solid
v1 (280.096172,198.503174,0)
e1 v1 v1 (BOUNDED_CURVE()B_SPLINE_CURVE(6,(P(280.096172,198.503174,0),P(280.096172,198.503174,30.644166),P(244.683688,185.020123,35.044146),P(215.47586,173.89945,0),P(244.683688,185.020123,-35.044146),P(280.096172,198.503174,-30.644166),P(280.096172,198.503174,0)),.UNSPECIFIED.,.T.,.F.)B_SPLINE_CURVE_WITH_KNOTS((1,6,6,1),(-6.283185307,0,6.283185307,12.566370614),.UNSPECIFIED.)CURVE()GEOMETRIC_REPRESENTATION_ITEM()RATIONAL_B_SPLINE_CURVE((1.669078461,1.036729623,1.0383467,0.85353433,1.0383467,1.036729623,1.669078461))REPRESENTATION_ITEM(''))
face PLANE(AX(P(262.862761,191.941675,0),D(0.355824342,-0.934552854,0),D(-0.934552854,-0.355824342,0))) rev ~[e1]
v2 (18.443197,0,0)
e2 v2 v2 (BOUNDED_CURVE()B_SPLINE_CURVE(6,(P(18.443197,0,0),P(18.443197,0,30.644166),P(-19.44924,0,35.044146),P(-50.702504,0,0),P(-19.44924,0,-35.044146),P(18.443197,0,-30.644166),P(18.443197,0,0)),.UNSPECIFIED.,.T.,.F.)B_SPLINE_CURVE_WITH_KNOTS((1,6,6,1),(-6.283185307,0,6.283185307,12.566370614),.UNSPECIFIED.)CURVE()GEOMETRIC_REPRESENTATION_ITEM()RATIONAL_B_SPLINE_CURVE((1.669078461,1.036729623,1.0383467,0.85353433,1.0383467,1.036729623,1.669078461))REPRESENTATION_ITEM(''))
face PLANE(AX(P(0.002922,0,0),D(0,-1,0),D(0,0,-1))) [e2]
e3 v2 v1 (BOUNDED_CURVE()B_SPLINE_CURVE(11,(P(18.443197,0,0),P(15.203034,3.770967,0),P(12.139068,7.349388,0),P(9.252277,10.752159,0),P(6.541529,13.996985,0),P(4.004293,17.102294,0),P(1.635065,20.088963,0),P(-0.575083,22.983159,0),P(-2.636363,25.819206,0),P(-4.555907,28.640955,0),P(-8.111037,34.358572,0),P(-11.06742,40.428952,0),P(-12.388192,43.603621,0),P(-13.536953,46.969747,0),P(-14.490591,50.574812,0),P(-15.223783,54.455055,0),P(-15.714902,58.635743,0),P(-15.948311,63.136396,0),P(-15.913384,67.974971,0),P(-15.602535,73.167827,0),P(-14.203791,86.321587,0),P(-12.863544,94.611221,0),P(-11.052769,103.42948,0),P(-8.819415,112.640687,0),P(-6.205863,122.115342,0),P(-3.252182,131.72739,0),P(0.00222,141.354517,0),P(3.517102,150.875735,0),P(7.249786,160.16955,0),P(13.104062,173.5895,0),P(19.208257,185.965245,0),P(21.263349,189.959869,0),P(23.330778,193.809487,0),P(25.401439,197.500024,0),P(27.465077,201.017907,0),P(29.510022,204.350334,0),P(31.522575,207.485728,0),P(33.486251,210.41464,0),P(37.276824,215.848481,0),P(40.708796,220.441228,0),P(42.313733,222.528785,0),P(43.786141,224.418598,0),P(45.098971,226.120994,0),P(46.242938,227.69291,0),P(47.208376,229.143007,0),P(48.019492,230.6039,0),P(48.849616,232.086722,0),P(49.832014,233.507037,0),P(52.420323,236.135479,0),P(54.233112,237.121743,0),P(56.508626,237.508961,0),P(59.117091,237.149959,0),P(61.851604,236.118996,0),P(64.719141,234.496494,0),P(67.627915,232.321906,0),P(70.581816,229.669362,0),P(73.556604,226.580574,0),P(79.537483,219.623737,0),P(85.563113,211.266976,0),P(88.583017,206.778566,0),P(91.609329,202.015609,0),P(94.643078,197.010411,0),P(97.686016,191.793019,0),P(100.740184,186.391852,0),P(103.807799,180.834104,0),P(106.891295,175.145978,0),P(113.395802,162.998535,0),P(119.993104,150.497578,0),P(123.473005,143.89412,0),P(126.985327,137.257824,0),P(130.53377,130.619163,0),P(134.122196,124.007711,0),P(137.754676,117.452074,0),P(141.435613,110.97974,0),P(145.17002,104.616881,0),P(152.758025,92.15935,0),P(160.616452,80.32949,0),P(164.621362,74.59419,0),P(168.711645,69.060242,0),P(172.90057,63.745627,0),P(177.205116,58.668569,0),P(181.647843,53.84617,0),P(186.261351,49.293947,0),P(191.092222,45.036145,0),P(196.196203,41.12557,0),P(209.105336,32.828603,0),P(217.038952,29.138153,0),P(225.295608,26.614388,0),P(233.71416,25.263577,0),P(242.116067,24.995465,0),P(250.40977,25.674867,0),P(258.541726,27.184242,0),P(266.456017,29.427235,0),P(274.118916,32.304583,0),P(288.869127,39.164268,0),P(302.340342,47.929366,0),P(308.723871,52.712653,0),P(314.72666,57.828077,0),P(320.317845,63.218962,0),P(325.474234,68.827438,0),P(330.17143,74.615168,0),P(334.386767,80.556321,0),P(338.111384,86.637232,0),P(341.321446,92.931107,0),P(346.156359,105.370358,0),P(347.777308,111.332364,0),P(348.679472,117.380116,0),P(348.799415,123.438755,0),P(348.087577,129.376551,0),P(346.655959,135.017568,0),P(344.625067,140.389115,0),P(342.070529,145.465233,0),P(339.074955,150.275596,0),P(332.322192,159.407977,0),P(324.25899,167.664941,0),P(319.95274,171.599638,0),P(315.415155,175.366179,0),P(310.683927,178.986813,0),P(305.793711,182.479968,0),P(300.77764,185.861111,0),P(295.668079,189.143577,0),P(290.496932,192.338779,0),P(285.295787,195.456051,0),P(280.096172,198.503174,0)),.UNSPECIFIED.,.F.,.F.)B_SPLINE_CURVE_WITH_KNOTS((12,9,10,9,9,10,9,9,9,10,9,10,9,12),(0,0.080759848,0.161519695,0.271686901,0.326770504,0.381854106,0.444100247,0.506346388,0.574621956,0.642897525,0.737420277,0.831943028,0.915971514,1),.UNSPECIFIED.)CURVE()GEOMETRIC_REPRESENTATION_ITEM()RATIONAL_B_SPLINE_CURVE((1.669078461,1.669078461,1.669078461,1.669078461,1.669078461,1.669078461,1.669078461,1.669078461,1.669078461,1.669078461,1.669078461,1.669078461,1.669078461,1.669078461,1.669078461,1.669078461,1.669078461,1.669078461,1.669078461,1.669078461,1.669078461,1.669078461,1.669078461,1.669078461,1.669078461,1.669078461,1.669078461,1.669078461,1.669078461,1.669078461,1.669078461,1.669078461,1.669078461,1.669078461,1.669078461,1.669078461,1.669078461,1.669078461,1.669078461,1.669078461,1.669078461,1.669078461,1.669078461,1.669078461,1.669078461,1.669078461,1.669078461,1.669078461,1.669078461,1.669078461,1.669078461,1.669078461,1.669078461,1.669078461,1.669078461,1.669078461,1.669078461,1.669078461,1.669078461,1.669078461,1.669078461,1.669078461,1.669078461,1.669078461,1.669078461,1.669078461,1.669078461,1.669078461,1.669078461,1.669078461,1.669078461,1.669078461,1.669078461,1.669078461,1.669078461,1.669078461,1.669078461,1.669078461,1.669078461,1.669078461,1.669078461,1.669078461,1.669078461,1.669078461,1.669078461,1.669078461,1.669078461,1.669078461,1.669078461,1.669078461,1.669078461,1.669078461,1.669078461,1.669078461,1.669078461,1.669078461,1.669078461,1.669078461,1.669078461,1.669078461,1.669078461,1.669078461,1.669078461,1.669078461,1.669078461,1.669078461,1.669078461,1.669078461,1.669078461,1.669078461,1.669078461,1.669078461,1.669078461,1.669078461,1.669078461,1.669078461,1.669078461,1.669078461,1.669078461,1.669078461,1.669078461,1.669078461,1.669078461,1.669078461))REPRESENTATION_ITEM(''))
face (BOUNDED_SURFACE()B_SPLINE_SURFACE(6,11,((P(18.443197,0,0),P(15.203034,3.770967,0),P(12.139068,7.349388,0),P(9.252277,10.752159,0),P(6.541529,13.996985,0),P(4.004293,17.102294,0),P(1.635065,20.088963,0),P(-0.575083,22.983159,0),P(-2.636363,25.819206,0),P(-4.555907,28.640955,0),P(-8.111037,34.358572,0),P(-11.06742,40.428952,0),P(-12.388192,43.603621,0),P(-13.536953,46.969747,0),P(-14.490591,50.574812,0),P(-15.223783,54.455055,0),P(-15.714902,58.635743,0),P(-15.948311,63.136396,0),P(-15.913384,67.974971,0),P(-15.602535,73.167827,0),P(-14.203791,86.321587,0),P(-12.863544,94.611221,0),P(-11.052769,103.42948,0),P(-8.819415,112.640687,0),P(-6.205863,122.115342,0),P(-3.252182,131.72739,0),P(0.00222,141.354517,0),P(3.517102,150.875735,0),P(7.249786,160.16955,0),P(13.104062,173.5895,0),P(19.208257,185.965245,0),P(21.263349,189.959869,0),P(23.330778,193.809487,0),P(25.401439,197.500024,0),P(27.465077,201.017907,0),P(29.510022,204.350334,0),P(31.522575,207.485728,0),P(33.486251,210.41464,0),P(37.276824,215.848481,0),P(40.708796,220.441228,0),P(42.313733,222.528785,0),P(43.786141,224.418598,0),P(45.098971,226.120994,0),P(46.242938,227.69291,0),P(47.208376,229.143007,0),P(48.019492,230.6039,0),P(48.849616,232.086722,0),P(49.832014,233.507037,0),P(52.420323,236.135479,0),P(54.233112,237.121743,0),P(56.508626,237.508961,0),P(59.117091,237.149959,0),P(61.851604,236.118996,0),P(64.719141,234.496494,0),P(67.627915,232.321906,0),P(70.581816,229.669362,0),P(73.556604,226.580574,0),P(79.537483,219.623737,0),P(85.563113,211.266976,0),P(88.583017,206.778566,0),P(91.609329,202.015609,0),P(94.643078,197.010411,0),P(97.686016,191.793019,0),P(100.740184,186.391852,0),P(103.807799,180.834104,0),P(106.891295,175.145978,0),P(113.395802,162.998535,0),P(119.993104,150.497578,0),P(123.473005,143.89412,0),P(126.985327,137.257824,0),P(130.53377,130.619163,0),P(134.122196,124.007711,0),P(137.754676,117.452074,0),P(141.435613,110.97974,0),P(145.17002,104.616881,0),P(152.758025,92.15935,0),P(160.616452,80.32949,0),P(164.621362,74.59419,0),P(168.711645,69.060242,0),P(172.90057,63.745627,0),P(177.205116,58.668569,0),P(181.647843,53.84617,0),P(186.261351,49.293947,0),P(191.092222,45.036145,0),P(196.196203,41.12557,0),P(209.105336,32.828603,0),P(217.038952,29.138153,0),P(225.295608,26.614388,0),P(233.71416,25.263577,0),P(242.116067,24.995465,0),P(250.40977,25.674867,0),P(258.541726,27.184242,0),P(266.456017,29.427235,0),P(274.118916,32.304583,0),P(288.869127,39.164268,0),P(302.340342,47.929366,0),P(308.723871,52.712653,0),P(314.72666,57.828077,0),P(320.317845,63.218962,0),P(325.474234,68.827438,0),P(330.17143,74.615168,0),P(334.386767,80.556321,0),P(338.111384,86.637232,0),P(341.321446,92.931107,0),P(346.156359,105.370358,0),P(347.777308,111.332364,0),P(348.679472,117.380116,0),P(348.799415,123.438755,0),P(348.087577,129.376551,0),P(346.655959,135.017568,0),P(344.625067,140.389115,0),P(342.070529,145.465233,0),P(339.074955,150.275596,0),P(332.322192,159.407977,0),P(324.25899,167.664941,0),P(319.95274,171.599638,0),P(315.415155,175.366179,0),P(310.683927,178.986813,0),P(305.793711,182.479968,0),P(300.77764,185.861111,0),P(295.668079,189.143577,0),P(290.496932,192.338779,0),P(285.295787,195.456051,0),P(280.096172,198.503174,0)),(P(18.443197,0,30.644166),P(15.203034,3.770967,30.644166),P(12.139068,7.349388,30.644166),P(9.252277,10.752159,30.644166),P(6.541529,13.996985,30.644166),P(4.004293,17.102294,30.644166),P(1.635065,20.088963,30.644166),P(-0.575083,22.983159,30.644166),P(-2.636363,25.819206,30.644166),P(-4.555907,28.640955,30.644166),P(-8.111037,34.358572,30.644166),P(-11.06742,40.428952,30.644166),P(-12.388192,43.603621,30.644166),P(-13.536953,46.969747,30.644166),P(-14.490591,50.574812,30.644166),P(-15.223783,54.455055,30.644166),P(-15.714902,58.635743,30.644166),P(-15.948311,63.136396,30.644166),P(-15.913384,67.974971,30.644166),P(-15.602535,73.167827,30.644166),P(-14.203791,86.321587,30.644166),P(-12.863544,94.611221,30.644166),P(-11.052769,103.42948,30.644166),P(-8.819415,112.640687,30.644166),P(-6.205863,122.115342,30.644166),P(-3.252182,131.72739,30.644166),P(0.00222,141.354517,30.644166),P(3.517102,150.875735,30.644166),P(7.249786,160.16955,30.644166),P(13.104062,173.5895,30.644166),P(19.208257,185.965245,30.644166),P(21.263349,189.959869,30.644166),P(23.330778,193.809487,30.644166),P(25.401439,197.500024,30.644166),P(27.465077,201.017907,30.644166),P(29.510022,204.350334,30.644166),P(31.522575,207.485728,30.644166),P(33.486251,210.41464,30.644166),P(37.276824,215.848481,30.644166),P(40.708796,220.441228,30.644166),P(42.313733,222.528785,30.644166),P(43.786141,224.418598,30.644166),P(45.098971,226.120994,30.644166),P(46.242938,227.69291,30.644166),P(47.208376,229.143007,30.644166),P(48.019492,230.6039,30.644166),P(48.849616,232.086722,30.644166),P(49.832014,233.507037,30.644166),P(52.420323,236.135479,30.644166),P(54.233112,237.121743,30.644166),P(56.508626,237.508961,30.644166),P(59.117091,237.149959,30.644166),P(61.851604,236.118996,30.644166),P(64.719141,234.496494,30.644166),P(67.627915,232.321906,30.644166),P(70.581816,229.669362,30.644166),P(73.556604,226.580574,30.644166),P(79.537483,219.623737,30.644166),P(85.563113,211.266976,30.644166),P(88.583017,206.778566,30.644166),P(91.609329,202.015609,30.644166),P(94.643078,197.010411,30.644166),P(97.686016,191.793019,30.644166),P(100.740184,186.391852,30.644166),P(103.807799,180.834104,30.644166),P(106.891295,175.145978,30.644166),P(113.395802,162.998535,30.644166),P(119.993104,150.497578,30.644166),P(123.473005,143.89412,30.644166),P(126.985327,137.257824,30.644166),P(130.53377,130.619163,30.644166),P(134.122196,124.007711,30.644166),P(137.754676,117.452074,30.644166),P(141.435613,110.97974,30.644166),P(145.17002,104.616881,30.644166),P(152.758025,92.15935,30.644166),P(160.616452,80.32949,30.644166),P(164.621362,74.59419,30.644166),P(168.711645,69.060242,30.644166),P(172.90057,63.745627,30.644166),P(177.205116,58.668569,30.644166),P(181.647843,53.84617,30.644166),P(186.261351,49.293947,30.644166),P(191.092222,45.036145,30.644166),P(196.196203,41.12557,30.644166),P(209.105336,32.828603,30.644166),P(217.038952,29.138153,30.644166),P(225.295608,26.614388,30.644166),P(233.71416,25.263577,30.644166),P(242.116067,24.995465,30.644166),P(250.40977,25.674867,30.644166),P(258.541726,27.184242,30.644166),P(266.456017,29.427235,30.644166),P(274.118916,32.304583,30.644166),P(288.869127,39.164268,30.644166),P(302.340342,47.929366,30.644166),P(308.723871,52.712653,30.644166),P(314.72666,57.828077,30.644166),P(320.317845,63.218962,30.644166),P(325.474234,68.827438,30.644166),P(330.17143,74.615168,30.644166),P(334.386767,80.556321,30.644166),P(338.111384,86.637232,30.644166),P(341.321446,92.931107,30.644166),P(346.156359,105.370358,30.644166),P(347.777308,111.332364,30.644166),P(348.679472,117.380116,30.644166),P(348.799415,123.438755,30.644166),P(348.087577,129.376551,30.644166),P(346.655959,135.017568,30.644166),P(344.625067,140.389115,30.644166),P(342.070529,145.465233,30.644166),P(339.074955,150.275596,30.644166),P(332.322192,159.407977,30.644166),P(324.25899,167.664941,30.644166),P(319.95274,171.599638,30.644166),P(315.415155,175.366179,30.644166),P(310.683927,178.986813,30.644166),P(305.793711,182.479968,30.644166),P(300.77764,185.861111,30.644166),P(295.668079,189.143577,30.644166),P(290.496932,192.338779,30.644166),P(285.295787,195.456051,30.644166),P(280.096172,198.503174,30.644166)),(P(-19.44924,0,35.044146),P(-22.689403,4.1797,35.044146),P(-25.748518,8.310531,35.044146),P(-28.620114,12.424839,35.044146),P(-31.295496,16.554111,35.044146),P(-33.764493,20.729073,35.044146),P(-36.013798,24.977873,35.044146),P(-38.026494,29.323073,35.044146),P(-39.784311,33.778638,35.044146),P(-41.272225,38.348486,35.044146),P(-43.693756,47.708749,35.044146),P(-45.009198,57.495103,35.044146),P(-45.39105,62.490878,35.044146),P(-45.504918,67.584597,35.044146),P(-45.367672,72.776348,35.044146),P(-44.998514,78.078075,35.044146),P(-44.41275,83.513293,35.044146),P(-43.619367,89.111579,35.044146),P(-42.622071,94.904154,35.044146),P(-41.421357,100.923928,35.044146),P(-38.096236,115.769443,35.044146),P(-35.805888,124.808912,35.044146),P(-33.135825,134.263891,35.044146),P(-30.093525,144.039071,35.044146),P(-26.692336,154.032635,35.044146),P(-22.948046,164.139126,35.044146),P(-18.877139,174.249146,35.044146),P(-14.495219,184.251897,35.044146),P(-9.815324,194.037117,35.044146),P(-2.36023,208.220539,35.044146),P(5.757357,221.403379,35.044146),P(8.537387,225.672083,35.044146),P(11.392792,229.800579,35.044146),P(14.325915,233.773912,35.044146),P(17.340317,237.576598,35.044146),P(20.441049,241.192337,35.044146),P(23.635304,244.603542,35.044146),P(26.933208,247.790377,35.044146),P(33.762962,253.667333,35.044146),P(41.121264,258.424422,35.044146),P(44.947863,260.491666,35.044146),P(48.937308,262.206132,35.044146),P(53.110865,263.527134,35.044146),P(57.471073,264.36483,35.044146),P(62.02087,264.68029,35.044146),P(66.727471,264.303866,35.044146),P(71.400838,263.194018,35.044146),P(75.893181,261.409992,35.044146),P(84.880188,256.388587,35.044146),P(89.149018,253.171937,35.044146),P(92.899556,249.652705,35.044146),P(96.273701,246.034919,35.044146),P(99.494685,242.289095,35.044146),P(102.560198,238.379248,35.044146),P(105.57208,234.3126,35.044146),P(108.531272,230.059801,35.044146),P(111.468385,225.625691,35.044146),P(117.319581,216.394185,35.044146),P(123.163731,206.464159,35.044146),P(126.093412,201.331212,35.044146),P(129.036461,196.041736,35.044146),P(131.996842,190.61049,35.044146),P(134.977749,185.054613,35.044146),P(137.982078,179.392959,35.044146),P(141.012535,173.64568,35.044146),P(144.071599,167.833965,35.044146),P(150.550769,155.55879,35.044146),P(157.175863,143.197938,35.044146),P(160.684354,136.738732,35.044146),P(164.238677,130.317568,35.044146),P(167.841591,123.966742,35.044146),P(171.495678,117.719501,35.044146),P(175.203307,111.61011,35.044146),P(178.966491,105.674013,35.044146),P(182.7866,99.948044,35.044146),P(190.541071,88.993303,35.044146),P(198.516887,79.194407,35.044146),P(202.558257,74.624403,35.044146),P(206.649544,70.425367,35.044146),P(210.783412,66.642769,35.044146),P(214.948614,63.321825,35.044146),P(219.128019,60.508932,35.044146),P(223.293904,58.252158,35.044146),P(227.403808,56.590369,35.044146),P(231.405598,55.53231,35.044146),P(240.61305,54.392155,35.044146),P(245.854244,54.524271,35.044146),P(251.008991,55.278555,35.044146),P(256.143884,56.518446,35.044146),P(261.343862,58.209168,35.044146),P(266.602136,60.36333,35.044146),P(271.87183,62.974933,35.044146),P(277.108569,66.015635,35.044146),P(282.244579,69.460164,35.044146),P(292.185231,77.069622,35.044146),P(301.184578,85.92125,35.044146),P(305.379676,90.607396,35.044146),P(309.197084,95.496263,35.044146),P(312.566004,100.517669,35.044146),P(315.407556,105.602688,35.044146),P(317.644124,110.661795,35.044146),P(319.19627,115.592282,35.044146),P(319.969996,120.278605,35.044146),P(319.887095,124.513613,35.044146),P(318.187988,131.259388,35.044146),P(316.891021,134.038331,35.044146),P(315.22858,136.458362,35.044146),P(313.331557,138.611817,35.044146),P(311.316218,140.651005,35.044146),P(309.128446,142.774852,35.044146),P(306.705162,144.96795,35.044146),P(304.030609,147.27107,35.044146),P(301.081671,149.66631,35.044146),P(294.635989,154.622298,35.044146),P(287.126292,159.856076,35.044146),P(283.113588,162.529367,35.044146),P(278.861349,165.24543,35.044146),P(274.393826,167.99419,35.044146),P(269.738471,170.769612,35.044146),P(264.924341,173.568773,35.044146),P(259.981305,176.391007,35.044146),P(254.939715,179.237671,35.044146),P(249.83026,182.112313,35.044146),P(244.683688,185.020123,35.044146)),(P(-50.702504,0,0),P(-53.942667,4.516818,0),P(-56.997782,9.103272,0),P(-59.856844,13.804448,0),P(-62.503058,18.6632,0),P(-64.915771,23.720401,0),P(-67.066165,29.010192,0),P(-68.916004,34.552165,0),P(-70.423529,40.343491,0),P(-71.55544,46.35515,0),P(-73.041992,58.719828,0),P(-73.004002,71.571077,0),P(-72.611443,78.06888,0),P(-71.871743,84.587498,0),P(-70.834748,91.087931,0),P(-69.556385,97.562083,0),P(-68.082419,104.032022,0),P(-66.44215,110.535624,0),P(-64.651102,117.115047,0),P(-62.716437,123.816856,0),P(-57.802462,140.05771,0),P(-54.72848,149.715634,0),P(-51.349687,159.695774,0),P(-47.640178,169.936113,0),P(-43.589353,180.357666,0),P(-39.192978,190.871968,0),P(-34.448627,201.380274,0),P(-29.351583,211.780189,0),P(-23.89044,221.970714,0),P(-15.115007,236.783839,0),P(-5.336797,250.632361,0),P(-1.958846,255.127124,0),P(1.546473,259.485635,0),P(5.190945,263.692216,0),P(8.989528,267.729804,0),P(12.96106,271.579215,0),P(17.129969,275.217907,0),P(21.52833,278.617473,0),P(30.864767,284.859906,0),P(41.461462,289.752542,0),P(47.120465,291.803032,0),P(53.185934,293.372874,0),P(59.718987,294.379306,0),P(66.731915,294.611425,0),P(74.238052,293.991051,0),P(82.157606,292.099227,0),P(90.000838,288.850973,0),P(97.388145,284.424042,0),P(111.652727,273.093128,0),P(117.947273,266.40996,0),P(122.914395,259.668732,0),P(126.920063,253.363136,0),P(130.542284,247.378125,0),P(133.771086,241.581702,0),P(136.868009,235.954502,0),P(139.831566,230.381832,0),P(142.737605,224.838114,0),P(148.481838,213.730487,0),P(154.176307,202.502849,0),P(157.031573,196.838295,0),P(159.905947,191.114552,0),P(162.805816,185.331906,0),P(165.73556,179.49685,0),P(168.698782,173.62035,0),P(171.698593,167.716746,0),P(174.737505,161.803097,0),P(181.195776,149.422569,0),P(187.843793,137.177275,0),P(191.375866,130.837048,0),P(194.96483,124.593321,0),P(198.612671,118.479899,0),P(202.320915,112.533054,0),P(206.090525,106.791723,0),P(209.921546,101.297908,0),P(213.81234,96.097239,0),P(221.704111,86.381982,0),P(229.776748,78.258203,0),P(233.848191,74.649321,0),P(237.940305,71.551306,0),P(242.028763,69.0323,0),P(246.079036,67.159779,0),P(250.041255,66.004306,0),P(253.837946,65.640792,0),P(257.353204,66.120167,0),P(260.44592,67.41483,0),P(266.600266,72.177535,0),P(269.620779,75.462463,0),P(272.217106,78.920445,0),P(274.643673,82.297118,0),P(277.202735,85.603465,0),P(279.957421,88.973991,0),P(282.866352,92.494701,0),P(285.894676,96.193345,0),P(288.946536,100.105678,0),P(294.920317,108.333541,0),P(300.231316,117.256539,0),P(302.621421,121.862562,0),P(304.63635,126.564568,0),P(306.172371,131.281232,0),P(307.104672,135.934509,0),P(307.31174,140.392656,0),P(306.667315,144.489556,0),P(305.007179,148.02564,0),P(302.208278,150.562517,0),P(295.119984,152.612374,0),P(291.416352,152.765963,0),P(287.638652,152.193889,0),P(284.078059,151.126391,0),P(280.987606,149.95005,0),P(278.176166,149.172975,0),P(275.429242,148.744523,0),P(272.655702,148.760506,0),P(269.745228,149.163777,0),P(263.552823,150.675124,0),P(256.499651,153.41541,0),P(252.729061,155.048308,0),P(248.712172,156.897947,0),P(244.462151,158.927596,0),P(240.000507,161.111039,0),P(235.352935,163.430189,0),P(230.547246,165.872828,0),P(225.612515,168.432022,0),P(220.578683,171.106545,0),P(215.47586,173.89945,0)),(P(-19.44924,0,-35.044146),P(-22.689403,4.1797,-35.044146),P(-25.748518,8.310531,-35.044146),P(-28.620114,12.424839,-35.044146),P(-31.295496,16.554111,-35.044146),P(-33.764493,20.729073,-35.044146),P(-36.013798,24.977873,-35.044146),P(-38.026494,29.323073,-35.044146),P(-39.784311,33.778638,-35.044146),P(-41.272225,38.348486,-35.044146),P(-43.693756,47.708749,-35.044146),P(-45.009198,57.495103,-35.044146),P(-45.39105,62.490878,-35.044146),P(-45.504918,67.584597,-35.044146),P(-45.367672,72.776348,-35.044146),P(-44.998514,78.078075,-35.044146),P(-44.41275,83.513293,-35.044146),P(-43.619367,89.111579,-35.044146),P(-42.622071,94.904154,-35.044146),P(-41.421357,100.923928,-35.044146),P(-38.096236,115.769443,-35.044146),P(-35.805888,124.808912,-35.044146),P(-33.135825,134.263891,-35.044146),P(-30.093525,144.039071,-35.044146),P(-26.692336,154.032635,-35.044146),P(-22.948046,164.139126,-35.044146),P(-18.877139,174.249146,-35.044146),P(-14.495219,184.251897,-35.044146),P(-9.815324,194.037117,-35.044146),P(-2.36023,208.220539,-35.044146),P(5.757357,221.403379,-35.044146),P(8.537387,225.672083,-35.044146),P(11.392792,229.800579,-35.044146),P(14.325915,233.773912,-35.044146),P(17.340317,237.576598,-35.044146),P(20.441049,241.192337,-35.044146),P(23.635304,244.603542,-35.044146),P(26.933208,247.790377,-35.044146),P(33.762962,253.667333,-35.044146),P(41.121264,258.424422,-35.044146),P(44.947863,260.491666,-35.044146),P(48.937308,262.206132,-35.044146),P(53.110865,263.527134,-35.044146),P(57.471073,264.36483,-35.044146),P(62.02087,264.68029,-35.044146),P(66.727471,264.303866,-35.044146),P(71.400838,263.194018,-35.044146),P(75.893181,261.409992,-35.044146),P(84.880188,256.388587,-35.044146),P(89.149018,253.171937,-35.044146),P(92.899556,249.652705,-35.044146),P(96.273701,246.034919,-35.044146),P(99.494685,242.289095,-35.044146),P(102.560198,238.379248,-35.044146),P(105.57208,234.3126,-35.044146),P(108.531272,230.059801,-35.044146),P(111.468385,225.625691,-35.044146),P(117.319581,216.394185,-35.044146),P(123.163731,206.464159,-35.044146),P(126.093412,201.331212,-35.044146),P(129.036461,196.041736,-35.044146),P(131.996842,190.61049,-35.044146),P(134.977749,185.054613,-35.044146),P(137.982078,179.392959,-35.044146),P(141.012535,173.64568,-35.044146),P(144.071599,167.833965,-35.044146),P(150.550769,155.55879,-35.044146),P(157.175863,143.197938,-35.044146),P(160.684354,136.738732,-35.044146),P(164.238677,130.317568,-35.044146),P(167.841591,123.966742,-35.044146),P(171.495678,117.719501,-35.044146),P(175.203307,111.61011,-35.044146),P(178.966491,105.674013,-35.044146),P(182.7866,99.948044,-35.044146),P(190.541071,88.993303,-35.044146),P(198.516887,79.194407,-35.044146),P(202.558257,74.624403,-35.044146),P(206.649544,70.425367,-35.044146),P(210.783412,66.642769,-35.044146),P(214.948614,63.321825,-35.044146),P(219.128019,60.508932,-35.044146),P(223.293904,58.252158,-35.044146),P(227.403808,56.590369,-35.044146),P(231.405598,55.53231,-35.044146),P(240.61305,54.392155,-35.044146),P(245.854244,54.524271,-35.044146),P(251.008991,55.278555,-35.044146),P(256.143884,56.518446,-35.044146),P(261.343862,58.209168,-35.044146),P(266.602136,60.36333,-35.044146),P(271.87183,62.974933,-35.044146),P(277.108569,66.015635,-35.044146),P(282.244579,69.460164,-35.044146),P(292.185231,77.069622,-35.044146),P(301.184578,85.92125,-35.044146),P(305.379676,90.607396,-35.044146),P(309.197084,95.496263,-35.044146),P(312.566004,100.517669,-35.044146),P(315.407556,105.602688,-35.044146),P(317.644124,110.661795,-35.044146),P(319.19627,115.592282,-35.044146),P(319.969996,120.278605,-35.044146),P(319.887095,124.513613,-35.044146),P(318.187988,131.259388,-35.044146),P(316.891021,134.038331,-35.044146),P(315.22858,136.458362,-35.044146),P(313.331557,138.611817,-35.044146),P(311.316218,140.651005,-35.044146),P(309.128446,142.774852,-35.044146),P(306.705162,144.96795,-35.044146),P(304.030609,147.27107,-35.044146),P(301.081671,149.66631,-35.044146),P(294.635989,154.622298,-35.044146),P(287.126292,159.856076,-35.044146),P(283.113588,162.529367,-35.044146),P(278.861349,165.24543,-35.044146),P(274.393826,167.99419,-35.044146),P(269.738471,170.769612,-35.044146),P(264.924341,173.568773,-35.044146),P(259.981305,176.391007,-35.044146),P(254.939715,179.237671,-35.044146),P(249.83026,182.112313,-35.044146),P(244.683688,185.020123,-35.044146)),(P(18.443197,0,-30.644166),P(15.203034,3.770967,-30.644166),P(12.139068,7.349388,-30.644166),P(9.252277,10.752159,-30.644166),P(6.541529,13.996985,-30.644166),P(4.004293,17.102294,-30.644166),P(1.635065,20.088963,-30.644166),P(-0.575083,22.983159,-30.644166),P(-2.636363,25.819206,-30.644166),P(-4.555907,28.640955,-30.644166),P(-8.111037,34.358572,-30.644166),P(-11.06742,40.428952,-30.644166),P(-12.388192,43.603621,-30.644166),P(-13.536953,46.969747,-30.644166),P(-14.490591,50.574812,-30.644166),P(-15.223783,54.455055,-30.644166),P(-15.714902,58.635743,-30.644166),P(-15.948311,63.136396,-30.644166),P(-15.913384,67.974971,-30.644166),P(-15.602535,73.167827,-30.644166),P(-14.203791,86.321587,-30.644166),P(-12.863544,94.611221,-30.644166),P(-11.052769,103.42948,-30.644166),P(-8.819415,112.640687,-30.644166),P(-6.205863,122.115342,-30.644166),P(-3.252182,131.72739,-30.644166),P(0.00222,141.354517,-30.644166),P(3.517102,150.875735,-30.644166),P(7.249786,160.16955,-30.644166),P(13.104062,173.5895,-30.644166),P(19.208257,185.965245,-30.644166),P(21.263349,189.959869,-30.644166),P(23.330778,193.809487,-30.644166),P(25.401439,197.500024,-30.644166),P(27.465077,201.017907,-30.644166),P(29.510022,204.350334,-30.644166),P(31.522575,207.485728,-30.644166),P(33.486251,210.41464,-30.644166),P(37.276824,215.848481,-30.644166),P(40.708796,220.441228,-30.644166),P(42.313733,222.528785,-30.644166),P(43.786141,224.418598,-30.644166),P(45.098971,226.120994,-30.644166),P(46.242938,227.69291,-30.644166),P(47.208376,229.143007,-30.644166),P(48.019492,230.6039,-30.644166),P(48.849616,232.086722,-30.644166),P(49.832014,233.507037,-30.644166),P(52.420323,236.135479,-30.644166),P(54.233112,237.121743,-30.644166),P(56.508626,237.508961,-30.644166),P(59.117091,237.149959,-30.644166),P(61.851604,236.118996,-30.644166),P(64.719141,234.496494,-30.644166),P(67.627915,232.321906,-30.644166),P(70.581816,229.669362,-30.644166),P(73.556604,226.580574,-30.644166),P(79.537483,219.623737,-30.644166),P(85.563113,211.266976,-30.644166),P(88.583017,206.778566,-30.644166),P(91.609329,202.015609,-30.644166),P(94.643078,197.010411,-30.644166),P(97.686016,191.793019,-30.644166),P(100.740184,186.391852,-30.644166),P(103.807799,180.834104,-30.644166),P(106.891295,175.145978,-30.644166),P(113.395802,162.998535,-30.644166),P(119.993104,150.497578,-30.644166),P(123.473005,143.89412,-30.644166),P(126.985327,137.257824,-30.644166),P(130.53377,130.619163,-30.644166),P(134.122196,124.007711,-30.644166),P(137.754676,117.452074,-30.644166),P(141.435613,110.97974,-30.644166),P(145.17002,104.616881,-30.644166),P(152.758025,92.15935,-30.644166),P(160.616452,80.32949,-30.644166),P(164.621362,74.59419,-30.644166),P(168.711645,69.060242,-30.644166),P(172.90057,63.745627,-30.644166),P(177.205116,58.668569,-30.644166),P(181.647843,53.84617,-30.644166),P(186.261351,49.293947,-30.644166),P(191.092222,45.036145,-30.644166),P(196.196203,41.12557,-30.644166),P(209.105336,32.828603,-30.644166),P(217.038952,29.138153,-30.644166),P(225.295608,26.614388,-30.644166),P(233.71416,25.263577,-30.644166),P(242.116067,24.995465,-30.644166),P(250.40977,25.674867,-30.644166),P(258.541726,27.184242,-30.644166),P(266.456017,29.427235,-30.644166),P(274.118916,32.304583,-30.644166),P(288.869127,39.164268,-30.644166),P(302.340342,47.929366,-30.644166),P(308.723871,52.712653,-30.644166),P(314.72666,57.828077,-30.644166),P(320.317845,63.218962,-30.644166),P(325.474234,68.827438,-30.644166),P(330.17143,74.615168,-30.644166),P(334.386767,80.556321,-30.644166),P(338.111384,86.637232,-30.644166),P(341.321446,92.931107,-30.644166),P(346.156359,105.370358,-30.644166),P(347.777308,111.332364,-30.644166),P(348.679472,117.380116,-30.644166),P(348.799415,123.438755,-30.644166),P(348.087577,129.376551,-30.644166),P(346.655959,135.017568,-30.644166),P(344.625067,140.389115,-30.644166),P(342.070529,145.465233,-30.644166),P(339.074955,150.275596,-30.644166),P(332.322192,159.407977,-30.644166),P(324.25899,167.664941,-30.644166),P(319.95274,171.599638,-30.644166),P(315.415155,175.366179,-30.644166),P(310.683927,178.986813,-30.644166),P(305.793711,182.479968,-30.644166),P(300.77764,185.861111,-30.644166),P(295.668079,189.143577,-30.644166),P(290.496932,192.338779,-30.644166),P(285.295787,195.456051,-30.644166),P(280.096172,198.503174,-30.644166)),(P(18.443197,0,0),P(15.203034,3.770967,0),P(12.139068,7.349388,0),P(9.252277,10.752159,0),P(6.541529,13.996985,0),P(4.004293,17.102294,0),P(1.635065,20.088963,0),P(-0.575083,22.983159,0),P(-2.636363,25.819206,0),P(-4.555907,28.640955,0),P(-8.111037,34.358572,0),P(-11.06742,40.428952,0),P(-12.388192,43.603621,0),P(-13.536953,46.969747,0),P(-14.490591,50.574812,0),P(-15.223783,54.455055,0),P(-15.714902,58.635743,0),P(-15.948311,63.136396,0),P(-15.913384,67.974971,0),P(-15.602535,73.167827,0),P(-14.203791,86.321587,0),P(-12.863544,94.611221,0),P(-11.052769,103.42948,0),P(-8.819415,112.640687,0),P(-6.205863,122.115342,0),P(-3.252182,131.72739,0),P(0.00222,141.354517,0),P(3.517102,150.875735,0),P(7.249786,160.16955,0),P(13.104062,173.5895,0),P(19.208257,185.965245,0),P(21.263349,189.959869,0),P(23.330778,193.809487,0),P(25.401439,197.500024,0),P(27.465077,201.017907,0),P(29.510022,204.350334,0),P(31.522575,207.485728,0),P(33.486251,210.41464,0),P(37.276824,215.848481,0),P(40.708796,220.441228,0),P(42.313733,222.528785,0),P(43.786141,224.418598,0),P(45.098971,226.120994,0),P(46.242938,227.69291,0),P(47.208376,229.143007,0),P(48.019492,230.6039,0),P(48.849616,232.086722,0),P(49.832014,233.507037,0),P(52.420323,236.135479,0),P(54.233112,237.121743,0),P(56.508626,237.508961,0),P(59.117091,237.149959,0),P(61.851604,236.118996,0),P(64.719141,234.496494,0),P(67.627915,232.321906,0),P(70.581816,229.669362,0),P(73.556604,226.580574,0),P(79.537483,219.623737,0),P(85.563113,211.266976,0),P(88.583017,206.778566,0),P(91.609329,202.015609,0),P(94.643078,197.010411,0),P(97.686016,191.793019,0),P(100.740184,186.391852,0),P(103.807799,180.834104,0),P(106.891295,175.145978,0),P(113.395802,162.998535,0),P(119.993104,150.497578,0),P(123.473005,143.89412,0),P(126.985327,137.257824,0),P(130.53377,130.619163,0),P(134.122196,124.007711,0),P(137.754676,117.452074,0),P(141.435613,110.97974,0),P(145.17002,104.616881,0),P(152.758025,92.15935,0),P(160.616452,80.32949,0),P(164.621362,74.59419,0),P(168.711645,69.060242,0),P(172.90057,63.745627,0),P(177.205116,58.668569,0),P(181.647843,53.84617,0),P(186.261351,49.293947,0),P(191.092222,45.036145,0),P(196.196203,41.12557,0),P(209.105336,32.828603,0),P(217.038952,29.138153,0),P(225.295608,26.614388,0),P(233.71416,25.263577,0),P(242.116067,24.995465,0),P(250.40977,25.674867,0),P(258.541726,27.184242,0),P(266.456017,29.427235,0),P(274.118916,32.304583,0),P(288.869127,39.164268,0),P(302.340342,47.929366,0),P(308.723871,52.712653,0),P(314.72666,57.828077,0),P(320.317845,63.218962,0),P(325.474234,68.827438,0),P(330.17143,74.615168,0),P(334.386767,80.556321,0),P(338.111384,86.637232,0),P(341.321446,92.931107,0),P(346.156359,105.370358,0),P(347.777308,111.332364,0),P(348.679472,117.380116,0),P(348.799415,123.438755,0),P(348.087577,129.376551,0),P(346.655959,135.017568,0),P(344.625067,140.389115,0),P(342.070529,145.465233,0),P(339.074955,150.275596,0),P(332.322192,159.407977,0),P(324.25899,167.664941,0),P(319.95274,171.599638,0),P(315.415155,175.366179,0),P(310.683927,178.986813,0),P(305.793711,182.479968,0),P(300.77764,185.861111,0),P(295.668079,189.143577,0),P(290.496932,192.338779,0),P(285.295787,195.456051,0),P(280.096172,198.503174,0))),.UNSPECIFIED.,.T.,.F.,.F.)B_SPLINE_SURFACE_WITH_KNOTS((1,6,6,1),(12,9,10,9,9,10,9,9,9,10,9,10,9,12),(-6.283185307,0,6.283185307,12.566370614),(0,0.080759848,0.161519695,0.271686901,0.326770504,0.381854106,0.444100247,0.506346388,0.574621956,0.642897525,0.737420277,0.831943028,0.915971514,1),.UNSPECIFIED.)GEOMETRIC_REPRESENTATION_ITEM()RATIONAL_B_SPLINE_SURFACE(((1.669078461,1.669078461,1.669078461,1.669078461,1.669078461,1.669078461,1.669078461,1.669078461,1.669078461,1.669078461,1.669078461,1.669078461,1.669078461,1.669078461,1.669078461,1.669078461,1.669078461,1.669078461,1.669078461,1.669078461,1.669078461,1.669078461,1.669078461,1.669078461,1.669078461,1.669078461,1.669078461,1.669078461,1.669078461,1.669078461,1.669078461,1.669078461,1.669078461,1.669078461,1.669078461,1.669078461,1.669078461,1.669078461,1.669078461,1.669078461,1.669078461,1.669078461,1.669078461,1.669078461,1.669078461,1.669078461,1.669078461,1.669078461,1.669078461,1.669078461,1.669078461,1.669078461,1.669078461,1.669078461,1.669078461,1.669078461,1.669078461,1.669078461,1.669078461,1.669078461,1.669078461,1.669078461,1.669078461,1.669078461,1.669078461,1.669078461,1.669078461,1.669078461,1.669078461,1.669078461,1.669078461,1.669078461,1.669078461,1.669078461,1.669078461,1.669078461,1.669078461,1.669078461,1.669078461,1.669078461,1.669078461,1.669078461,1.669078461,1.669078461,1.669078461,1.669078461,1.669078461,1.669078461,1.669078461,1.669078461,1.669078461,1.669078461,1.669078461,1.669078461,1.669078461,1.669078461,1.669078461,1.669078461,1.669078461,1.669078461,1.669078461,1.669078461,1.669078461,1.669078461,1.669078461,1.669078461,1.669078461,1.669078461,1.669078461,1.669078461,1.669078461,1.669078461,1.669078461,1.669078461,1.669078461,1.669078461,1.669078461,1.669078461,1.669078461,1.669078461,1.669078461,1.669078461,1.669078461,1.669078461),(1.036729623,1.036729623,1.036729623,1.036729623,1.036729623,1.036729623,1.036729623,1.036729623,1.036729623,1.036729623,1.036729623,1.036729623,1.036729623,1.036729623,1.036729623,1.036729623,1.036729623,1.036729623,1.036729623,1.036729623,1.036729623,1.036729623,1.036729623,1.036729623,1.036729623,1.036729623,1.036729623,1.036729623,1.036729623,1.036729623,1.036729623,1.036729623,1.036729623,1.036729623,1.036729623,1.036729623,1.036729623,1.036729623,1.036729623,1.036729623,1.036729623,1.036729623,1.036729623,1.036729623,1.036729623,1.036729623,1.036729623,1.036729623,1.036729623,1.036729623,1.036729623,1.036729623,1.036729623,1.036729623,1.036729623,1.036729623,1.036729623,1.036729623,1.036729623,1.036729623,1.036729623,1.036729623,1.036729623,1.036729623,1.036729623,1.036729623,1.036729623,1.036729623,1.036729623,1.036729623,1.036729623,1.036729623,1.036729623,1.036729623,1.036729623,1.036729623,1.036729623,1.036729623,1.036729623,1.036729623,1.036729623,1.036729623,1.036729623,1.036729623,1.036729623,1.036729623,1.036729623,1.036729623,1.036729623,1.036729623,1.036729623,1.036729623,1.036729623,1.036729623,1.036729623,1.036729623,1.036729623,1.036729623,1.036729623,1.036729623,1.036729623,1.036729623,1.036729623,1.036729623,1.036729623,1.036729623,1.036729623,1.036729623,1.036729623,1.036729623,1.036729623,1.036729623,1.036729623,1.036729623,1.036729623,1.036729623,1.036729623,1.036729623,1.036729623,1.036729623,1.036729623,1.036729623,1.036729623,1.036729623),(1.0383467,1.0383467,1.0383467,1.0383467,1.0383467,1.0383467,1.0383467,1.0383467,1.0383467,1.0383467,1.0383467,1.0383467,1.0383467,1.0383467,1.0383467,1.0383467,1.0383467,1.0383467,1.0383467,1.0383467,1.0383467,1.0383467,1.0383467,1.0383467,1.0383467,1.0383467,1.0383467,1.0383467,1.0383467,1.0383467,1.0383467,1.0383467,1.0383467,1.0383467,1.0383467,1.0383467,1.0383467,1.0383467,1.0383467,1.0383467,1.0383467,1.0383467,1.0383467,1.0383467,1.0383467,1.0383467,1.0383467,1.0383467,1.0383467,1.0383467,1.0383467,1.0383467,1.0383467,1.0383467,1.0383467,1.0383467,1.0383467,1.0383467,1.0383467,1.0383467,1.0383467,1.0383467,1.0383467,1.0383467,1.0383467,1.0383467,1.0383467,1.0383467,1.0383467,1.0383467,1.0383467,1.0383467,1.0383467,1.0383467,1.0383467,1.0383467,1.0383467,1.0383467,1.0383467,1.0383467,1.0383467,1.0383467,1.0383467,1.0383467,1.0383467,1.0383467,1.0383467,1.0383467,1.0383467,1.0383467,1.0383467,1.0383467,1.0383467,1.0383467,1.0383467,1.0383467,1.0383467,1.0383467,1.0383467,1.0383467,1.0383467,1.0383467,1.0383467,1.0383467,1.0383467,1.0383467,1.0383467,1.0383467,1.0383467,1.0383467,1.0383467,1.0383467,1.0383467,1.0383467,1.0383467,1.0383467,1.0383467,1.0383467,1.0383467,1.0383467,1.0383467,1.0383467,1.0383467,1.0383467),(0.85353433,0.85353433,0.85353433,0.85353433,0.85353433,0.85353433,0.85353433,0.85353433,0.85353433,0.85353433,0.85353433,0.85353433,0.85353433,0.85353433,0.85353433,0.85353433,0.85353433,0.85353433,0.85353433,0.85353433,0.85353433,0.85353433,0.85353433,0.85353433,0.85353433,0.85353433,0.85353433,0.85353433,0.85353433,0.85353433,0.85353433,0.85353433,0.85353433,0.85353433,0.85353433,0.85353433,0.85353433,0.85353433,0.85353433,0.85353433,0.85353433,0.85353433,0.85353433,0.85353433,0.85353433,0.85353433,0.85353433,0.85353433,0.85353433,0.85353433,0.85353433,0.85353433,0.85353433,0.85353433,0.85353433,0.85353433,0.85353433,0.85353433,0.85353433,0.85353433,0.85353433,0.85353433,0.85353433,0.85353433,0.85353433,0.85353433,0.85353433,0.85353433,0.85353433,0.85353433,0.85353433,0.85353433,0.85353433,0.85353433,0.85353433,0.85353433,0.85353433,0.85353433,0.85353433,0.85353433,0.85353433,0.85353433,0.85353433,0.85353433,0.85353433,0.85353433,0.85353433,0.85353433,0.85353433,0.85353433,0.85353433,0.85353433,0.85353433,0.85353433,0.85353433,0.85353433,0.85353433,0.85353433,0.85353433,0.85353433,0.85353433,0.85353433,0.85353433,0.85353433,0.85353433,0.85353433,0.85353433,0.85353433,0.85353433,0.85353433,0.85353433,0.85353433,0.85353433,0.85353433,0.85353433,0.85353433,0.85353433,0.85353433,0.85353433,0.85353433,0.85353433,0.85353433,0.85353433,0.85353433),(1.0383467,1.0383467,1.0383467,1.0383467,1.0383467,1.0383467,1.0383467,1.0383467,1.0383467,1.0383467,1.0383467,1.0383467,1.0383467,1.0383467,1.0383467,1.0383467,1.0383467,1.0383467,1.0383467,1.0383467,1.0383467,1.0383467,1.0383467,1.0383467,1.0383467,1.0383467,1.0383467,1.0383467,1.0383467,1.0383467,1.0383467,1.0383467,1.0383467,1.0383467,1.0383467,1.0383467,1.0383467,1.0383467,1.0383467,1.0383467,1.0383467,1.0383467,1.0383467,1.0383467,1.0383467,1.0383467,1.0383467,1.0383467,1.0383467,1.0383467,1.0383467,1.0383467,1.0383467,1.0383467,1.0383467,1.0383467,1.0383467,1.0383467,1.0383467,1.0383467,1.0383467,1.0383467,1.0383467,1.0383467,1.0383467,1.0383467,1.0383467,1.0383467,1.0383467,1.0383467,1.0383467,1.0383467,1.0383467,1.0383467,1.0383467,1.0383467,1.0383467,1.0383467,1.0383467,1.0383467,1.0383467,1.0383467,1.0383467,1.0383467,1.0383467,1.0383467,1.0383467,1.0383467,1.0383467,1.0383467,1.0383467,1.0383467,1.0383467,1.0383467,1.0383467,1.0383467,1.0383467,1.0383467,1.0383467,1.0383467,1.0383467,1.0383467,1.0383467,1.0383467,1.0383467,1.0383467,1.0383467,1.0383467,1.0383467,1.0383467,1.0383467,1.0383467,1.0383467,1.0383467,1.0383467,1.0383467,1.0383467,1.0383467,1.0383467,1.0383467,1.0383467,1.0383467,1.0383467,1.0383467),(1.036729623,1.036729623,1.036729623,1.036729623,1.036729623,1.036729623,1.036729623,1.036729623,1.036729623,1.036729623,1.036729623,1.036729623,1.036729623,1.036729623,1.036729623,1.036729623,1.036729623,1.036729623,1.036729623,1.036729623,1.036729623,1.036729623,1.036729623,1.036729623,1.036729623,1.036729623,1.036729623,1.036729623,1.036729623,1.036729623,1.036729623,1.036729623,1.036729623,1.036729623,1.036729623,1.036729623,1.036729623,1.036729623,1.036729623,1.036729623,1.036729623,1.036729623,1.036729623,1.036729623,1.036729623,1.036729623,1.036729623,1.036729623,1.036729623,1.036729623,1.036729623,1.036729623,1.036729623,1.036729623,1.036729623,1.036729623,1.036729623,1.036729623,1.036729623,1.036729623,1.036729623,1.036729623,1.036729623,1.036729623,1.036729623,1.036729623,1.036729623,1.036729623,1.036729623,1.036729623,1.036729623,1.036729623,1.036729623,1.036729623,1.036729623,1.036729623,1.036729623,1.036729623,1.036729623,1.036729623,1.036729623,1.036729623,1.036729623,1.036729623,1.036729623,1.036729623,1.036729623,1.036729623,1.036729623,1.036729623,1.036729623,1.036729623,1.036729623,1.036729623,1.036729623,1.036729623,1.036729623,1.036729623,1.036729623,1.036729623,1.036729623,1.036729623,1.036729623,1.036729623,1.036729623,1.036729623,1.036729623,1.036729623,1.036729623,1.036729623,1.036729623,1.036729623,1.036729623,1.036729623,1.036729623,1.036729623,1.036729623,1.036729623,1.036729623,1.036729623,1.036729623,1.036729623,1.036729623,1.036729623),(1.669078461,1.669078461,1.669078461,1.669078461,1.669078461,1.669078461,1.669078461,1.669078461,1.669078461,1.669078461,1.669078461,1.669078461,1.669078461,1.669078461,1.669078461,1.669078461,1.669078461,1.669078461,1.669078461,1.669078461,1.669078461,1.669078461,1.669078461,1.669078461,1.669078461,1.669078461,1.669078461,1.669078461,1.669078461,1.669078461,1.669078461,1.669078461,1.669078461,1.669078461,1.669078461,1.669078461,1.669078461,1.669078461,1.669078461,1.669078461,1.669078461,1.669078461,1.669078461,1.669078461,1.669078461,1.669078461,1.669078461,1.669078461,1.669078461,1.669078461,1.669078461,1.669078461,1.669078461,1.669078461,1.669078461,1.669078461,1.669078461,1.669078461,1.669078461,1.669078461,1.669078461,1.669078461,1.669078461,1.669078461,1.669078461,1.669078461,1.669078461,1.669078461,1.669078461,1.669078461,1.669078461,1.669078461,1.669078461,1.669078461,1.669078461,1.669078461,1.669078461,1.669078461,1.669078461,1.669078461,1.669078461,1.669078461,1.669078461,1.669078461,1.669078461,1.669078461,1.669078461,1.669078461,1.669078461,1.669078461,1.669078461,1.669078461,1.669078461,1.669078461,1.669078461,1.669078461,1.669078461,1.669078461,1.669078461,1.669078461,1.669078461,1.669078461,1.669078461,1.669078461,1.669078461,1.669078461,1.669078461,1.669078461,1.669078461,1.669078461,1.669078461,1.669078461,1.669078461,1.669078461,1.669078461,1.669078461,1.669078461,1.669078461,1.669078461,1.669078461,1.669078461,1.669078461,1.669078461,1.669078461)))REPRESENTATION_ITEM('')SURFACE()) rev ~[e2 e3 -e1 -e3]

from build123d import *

# Parameters (mm, degrees)
F1_R = 18.4431966288


with BuildPart() as f2:
    # F2: sweep along a path in F0
    with BuildLine(Plane.XY) as f2_path:
        add(Edge.make_bspline(
            [(0, 0), (-23.761194386, 29.112652964), (-48.9792557695, 76.6812951235), (77.1344122049, 375.4096407944), (182.3572518142, -43.7840278005), (378.7293600517, 120.5719530528), (300.8012128, 170.0923232873), (262.8600299358, 191.9406354427)],
            knots=[0, 0, 0, 0, 0.1615196954, 0.3818541063, 0.6428975249, 0.8319430284, 1, 1, 1, 1], degree=3))
    # F1 (on Front) → F2 (sweep)
    with BuildSketch(Plane.XZ):
        Circle(F1_R)
    sweep(path=f2_path.line)


solid = f2.part
